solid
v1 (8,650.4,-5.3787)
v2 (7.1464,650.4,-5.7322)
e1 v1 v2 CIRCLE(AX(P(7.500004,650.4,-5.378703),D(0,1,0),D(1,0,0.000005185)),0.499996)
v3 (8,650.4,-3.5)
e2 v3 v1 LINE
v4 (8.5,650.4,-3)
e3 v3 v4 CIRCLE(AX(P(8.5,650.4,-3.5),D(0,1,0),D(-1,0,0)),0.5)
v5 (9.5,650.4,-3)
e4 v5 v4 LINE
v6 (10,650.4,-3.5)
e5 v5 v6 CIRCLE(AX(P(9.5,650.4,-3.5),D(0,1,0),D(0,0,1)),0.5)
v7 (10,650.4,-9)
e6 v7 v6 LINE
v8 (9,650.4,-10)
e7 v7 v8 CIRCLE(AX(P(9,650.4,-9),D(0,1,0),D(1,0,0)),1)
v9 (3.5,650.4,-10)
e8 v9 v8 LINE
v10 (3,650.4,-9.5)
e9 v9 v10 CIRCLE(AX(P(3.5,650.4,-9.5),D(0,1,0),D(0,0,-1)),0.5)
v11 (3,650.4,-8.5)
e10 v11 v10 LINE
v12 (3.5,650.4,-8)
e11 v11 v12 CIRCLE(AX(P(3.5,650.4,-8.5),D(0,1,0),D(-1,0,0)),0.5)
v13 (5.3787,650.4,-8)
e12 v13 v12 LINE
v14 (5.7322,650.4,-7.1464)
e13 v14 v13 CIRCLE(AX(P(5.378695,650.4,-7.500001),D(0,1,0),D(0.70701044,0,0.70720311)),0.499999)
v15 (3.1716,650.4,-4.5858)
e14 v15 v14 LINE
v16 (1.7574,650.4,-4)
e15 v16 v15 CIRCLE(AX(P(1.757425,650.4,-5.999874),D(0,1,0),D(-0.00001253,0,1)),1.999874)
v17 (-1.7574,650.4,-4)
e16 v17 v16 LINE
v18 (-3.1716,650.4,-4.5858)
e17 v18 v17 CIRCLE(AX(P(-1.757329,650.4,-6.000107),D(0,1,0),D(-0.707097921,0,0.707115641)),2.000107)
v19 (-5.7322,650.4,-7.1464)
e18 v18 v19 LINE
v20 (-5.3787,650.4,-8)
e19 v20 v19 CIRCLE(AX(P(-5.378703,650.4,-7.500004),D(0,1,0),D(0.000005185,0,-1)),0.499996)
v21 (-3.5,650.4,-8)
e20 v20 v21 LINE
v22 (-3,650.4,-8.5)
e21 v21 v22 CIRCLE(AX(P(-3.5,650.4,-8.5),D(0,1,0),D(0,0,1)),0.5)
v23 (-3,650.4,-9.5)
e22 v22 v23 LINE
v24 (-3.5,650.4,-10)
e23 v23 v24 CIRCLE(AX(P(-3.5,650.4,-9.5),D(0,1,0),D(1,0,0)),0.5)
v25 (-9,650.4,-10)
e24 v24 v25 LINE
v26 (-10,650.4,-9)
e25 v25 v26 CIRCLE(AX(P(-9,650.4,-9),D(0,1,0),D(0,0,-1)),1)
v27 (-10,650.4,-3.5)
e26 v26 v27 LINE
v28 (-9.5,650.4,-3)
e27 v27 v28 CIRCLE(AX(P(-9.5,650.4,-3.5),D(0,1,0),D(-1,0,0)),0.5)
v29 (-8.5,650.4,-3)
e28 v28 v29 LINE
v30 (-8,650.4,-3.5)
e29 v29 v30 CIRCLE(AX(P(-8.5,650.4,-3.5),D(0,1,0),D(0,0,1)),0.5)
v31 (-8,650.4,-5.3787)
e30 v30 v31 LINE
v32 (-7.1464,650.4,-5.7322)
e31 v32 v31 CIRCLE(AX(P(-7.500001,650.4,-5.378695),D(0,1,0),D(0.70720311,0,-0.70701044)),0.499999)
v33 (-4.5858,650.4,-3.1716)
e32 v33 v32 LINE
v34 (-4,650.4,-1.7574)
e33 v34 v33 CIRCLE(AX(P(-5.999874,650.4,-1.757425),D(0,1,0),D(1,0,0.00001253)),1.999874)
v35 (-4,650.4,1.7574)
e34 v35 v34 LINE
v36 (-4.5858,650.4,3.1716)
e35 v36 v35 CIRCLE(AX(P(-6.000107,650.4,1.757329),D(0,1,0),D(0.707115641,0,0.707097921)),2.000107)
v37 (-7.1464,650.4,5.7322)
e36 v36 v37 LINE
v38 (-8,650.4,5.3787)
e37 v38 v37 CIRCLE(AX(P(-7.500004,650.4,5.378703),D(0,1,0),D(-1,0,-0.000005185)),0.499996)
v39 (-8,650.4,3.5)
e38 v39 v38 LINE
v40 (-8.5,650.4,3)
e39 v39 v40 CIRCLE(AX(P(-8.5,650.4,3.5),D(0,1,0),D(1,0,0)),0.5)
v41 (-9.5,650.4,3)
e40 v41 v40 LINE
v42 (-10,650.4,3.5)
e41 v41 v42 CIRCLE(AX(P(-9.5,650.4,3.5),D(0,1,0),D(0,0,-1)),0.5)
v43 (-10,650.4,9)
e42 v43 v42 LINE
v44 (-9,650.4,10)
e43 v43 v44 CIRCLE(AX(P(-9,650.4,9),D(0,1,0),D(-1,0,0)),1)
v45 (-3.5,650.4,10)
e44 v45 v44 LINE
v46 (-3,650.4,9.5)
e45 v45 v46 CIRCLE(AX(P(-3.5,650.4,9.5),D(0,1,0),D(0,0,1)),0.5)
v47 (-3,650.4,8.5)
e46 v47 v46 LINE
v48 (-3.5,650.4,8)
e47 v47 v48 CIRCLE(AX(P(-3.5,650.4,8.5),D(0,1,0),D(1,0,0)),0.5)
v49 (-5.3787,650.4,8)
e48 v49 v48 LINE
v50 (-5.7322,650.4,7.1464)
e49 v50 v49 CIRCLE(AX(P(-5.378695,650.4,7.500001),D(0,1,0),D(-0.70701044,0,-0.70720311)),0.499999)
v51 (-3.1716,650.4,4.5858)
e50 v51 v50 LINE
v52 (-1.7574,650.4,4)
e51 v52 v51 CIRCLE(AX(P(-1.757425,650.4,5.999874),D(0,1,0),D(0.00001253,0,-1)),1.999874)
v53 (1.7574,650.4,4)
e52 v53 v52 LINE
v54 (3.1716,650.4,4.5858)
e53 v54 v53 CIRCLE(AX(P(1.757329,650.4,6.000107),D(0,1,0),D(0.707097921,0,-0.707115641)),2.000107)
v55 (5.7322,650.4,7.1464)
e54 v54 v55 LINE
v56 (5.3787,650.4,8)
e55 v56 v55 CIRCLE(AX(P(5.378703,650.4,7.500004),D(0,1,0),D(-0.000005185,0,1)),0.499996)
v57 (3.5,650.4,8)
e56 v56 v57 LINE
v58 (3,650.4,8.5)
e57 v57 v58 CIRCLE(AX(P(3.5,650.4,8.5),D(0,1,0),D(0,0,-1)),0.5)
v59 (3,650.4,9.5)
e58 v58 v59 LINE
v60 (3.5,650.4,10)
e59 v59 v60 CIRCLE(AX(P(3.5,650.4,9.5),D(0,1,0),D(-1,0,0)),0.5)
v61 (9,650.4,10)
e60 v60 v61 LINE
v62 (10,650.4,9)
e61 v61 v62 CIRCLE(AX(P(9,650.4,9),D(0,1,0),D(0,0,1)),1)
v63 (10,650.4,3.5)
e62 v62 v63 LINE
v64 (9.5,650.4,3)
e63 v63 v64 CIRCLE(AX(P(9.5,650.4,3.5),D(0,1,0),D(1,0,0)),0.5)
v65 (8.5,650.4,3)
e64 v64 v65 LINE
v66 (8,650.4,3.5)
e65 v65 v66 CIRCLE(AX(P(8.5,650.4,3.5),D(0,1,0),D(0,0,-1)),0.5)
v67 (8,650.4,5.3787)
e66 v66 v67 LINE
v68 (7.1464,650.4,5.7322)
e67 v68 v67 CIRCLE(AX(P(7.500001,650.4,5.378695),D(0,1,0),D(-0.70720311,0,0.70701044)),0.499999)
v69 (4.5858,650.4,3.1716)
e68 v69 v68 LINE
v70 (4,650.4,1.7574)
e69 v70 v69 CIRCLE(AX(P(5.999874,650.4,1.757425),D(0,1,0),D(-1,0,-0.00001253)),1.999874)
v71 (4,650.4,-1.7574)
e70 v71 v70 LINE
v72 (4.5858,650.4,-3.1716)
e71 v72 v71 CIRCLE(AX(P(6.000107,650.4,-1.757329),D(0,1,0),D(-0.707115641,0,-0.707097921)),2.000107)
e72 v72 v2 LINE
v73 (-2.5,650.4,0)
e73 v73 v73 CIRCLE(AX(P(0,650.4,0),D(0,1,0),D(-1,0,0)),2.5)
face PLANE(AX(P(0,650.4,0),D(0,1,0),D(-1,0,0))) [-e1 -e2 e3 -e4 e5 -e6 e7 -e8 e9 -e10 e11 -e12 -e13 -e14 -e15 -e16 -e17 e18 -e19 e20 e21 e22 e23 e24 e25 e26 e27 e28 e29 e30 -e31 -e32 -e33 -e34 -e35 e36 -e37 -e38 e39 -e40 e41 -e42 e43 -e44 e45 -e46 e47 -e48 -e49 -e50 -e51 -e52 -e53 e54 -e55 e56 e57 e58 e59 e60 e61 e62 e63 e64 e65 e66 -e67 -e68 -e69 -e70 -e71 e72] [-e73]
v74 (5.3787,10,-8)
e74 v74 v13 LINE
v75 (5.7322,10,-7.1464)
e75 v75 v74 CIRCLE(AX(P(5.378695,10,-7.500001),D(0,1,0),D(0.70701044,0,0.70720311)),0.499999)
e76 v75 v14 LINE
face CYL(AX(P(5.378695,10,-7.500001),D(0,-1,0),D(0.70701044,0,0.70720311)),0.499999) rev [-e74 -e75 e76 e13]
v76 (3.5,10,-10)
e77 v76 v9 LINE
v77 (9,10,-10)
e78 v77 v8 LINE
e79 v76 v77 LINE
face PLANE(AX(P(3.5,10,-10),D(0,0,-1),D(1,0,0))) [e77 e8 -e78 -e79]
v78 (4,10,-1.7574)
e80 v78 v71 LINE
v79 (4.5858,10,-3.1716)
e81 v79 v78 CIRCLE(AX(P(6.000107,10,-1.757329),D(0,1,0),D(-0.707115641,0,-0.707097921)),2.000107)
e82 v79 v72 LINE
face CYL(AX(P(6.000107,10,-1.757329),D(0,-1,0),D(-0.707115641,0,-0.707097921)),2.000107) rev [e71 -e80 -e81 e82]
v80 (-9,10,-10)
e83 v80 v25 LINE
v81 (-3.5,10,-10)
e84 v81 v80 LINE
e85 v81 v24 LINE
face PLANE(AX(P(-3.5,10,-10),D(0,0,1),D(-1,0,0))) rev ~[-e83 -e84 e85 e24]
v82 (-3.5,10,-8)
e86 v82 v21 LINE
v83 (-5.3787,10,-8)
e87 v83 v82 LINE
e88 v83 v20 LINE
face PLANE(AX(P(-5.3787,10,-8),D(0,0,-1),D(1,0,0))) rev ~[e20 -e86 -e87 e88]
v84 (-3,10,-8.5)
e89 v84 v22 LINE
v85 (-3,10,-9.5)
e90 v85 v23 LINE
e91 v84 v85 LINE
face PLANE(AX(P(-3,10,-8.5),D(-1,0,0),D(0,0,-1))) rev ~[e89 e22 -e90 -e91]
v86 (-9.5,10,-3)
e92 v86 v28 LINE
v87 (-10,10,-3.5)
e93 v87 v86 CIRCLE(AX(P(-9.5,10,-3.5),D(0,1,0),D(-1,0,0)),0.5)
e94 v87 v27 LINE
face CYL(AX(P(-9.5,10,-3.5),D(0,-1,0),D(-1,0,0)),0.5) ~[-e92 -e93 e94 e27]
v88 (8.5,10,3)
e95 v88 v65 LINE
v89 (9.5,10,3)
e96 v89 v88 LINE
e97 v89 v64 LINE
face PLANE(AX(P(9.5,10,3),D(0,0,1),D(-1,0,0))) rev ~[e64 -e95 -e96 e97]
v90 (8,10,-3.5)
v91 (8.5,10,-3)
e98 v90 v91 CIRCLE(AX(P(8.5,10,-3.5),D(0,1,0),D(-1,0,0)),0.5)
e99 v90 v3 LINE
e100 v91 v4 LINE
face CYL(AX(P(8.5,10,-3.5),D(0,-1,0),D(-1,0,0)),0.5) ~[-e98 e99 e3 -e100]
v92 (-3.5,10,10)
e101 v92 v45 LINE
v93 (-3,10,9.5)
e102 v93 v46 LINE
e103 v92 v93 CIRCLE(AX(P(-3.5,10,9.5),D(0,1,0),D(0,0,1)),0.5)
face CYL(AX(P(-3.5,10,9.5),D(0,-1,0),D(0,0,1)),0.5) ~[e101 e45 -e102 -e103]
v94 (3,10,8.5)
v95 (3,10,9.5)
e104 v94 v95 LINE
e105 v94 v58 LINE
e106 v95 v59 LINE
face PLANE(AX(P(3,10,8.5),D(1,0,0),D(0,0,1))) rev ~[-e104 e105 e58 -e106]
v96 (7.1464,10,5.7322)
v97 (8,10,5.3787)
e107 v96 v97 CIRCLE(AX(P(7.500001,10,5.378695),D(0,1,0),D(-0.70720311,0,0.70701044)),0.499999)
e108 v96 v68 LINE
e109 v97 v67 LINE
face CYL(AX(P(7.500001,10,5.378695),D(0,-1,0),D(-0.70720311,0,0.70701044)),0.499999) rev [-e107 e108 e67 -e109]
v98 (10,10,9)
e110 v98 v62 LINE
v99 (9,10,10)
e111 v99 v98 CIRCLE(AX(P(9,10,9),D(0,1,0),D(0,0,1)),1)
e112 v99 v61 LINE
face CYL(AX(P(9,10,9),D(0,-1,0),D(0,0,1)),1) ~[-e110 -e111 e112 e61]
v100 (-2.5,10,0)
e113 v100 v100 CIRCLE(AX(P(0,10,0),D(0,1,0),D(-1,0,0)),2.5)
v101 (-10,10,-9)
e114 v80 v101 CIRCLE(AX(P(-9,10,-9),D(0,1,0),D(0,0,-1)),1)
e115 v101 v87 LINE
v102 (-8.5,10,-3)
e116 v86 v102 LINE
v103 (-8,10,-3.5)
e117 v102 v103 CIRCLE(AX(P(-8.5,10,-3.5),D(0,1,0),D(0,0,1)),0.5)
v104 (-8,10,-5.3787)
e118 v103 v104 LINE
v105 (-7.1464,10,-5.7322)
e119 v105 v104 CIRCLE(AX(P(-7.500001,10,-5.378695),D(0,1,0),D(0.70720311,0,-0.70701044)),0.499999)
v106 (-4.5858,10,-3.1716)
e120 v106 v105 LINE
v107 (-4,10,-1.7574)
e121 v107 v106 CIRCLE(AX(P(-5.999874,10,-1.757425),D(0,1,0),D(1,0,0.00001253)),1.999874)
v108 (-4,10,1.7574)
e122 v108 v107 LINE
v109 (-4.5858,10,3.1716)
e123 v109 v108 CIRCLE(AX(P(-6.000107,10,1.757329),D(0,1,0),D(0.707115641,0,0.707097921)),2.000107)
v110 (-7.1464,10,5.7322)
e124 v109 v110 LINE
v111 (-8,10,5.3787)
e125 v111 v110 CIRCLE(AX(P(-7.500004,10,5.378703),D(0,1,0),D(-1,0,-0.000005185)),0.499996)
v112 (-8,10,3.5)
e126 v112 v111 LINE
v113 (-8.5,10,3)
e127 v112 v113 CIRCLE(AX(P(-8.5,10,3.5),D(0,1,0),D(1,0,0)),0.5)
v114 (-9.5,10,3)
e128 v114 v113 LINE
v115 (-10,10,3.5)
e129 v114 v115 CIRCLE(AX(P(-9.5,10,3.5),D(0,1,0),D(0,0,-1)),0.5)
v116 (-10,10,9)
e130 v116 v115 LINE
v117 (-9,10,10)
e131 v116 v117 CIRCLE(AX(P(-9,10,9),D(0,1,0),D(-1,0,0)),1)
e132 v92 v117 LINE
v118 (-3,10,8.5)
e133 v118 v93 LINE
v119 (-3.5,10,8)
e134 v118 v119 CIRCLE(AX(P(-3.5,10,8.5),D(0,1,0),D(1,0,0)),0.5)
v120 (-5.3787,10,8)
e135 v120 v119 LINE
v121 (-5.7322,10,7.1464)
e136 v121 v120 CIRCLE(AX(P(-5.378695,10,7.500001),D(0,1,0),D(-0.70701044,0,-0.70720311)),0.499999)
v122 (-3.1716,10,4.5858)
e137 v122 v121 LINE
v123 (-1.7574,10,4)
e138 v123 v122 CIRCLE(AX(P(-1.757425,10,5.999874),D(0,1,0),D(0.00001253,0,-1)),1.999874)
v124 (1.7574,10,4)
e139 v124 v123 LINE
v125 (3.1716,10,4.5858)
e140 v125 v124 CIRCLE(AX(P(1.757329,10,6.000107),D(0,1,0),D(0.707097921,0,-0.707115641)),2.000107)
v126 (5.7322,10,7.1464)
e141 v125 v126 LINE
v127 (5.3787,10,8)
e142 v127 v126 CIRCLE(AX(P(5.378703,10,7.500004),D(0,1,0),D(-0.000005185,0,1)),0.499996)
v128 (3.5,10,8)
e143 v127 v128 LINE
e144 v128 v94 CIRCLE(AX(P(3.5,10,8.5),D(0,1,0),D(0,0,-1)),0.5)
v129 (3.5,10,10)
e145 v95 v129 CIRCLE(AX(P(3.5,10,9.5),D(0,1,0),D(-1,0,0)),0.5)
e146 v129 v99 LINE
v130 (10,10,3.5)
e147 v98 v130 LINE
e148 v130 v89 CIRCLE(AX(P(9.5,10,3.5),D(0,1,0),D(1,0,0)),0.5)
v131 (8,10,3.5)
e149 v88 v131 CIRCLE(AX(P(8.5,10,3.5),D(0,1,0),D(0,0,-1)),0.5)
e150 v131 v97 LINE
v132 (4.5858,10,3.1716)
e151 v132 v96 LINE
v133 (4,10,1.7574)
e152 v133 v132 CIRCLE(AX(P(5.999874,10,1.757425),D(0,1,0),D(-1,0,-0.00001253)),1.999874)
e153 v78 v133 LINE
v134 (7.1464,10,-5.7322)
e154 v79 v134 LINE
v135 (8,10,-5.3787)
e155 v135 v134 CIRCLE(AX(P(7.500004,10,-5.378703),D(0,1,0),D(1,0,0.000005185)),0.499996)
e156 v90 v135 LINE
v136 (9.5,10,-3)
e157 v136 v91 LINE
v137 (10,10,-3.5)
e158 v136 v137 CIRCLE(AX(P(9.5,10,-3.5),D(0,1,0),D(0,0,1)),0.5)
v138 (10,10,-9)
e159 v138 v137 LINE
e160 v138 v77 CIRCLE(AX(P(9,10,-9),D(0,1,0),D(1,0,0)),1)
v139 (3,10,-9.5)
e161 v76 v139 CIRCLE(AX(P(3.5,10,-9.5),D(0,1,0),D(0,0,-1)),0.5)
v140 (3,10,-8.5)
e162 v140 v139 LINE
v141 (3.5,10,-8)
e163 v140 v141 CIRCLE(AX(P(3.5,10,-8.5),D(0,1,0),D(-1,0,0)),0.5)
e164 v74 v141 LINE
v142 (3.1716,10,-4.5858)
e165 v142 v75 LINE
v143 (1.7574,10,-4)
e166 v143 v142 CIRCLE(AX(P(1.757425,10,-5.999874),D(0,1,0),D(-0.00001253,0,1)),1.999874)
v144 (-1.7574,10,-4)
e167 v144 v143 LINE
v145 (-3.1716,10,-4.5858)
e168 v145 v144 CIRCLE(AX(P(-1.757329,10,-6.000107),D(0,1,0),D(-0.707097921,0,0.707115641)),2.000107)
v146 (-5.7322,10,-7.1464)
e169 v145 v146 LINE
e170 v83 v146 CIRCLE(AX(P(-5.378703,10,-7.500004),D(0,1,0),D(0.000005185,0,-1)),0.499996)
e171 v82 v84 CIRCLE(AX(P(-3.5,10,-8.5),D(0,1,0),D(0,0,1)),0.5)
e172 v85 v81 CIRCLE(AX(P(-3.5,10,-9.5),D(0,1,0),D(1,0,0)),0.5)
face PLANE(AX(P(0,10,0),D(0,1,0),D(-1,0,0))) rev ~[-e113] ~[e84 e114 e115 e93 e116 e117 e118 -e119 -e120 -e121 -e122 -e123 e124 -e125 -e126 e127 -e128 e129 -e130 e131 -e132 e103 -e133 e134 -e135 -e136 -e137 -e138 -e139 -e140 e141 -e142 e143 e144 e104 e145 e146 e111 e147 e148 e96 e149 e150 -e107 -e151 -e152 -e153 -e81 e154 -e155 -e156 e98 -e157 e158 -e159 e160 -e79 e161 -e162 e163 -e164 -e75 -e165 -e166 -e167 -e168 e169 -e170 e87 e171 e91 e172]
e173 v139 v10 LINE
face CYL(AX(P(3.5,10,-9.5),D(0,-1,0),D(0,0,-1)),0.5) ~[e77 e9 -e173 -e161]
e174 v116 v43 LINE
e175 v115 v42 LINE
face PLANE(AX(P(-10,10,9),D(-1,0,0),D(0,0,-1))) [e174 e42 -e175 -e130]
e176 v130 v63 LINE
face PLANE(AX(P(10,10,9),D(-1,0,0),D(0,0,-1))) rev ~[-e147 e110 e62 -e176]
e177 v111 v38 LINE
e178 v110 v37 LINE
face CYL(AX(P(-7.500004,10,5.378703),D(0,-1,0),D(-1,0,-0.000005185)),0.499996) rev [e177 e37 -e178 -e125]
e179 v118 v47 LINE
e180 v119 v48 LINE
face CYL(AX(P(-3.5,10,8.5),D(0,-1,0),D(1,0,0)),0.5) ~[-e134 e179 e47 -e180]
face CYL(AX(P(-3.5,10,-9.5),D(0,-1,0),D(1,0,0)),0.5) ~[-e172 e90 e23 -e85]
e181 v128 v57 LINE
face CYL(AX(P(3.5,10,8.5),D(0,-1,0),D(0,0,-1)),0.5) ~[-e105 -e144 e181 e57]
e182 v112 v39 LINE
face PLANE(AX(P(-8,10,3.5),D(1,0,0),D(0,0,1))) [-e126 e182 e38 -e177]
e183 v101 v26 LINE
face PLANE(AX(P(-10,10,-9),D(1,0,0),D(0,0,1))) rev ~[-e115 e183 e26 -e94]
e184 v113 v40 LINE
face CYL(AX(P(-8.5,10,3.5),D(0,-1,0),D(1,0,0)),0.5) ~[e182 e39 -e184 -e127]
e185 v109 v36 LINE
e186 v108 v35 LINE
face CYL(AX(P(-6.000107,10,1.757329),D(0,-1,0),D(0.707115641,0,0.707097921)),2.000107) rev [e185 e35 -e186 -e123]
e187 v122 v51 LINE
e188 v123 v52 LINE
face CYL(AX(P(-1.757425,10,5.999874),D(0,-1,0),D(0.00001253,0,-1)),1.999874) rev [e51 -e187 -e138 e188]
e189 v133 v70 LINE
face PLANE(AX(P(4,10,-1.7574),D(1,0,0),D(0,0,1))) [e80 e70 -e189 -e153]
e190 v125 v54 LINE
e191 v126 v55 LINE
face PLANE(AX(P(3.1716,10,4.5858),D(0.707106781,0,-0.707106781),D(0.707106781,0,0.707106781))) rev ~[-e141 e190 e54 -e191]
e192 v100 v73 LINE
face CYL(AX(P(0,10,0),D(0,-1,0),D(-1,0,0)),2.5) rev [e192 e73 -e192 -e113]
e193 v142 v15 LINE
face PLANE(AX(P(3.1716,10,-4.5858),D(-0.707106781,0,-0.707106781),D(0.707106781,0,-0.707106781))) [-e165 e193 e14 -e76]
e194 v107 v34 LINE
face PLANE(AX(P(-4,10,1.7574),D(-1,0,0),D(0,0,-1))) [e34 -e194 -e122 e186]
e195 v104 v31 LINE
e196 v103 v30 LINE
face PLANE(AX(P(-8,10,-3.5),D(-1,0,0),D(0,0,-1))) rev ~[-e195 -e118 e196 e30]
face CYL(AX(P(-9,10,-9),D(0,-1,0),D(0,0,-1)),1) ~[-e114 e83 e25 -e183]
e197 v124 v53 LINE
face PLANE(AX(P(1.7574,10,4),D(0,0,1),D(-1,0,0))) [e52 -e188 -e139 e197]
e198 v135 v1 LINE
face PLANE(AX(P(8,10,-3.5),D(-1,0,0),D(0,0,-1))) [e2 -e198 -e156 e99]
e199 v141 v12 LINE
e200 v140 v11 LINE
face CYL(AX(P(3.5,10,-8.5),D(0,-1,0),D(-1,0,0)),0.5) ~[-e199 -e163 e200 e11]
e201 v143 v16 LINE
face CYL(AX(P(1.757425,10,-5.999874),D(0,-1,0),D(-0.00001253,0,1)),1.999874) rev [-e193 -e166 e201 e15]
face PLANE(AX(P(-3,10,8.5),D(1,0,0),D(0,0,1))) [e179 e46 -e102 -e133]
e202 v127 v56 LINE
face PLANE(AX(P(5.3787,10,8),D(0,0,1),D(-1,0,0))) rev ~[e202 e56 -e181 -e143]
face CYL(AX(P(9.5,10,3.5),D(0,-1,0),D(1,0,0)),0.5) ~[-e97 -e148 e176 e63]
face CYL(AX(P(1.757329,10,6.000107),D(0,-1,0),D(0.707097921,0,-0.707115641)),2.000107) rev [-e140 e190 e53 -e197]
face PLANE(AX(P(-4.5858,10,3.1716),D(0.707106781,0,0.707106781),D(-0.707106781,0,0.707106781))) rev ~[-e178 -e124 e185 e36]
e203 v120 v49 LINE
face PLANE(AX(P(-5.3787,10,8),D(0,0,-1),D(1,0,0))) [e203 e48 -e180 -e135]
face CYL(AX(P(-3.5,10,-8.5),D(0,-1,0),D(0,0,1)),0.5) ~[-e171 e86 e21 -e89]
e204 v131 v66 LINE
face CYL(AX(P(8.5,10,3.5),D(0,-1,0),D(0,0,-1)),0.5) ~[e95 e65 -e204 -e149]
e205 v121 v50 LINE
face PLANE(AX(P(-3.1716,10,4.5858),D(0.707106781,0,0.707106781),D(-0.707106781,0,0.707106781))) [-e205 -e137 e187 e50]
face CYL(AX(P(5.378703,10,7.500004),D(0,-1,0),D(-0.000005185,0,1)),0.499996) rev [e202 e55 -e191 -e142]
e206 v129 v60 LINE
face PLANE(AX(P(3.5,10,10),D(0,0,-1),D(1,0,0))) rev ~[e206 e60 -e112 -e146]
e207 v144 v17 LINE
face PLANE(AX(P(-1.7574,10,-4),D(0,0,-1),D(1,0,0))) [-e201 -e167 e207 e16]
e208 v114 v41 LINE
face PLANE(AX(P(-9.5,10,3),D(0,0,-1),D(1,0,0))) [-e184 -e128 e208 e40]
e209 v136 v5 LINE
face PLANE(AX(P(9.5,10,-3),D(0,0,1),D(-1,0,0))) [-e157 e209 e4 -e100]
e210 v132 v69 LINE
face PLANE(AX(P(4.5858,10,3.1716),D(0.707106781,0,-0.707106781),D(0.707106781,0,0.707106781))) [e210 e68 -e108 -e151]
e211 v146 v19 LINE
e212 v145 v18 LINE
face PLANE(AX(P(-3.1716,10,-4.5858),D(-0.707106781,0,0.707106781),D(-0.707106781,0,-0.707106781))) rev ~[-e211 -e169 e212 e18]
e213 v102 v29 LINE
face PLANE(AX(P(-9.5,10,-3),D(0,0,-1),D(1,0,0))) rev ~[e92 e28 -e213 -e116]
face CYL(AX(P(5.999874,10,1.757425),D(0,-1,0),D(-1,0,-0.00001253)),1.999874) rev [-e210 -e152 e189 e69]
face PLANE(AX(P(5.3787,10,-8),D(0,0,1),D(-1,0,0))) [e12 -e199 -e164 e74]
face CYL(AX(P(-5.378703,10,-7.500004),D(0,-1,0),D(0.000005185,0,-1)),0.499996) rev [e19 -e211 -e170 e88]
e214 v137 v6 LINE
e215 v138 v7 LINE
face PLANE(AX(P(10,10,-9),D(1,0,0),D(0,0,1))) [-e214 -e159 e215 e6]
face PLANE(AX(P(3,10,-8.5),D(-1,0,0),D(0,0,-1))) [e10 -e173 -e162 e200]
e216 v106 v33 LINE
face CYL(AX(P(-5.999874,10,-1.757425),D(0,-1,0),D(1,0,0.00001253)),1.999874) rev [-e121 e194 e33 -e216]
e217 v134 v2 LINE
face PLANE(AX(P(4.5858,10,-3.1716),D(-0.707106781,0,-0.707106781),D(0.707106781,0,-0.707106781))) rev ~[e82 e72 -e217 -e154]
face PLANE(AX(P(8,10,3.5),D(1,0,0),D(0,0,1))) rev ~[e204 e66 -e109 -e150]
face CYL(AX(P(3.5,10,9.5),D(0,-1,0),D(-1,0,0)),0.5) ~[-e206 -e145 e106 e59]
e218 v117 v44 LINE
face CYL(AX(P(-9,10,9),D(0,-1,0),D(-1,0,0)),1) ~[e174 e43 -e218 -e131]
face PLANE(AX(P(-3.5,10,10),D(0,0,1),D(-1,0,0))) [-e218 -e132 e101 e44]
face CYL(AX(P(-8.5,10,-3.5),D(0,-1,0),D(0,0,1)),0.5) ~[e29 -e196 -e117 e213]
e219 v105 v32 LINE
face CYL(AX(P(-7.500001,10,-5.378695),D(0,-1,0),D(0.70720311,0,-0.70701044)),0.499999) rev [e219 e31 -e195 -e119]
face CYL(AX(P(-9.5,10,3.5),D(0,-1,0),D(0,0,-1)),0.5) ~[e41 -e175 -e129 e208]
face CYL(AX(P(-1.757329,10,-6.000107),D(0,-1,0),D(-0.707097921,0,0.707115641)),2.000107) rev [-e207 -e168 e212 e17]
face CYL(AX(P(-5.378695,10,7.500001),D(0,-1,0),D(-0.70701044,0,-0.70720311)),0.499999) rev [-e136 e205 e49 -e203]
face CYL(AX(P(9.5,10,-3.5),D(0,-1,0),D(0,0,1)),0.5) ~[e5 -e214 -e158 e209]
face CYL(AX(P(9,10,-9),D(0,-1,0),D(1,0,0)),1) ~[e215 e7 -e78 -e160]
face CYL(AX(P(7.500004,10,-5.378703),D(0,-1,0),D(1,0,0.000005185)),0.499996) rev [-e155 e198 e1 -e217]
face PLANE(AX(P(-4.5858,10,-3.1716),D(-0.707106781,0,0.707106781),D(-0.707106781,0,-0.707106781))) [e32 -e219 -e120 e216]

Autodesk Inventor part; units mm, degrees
ref_plane "Start Plane" through (0, 10, 0) normal (0, 1, 0) x (-1, 0, 0)
ref_plane "End Plane" through (0, 650.4, 0) normal (0, 1, 0) x (-1, 0, 0)
sketch "Sketch" plane through (0, 0, 0) normal (0, 1, 0) x (-1, 0, 0)
  line L0 (-1.7574, 4) -> (1.7574, 4)
  line L1 (4, 1.7574) -> (4, -1.7574)
  line L2 (1.7574, -4) -> (-1.7574, -4)
  line L3 (-4, -1.7574) -> (-4, 1.7574)
  line L4 (4.5858, -3.1716) -> (7.1464, -5.7322)
  line L5 (3.1716, -4.5858) -> (5.7322, -7.1464)
  line L6 (5.3787, -8) -> (3.5, -8)
  line L7 (3, -8.5) -> (3, -9.5)
  line L8 (3.5, -10) -> (9, -10)
  line L9 (10, -9) -> (10, -3.5)
  line L10 (9.5, -3) -> (8.5, -3)
  line L11 (8, -3.5) -> (8, -5.3787)
  line L12 (4, 0) -> (-4, 0) construction
  line L13 (0, -4) -> (0, 4) construction
  arc A0 (4, -1.7574) -> (4.5858, -3.1716) centre (6, -1.7574) ccw
  arc A1 (3.1716, -4.5858) -> (1.7574, -4) centre (1.7574, -6) ccw
  arc A2 (3.5, -8) -> (3, -8.5) centre (3.5, -8.5) ccw
  arc A3 (3, -9.5) -> (3.5, -10) centre (3.5, -9.5) ccw
  arc A4 (10, -3.5) -> (9.5, -3) centre (9.5, -3.5) ccw
  arc A5 (8.5, -3) -> (8, -3.5) centre (8.5, -3.5) ccw
  arc A6 (7.1464, -5.7322) -> (8, -5.3787) centre (7.5, -5.3787) ccw
  arc A7 (5.3787, -8) -> (5.7322, -7.1464) centre (5.3787, -7.5) ccw
  arc A8 (9, -10) -> (10, -9) centre (9, -9) ccw
  line L14 (-4.5858, -3.1716) -> (-7.1464, -5.7322)
  line L15 (-3.1716, -4.5858) -> (-5.7322, -7.1464)
  line L16 (-5.3787, -8) -> (-3.5, -8)
  line L17 (-3, -8.5) -> (-3, -9.5)
  line L18 (-3.5, -10) -> (-9, -10)
  line L19 (-10, -9) -> (-10, -3.5)
  line L20 (-9.5, -3) -> (-8.5, -3)
  line L21 (-8, -3.5) -> (-8, -5.3787)
  arc A9 (-4.5858, -3.1716) -> (-4, -1.7574) centre (-6, -1.7574) ccw
  arc A10 (-1.7574, -4) -> (-3.1716, -4.5858) centre (-1.7574, -6) ccw
  arc A11 (-3, -8.5) -> (-3.5, -8) centre (-3.5, -8.5) ccw
  arc A12 (-3.5, -10) -> (-3, -9.5) centre (-3.5, -9.5) ccw
  arc A13 (-9.5, -3) -> (-10, -3.5) centre (-9.5, -3.5) ccw
  arc A14 (-8, -3.5) -> (-8.5, -3) centre (-8.5, -3.5) ccw
  arc A15 (-8, -5.3787) -> (-7.1464, -5.7322) centre (-7.5, -5.3787) ccw
  arc A16 (-5.7322, -7.1464) -> (-5.3787, -8) centre (-5.3787, -7.5) ccw
  arc A17 (-10, -9) -> (-9, -10) centre (-9, -9) ccw
  line L22 (4.5858, 3.1716) -> (7.1464, 5.7322)
  line L23 (3.1716, 4.5858) -> (5.7322, 7.1464)
  line L24 (5.3787, 8) -> (3.5, 8)
  line L25 (3, 8.5) -> (3, 9.5)
  line L26 (3.5, 10) -> (9, 10)
  line L27 (10, 9) -> (10, 3.5)
  line L28 (9.5, 3) -> (8.5, 3)
  line L29 (8, 3.5) -> (8, 5.3787)
  arc A18 (4.5858, 3.1716) -> (4, 1.7574) centre (6, 1.7574) ccw
  arc A19 (1.7574, 4) -> (3.1716, 4.5858) centre (1.7574, 6) ccw
  arc A20 (3, 8.5) -> (3.5, 8) centre (3.5, 8.5) ccw
  arc A21 (3.5, 10) -> (3, 9.5) centre (3.5, 9.5) ccw
  arc A22 (9.5, 3) -> (10, 3.5) centre (9.5, 3.5) ccw
  arc A23 (8, 3.5) -> (8.5, 3) centre (8.5, 3.5) ccw
  arc A24 (8, 5.3787) -> (7.1464, 5.7322) centre (7.5, 5.3787) ccw
  arc A25 (5.7322, 7.1464) -> (5.3787, 8) centre (5.3787, 7.5) ccw
  arc A26 (10, 9) -> (9, 10) centre (9, 9) ccw
  line L30 (-10, 9) -> (-10, 3.5)
  arc A27 (-9, 10) -> (-10, 9) centre (-9, 9) ccw
  arc A28 (-10, 3.5) -> (-9.5, 3) centre (-9.5, 3.5) ccw
  line L31 (-9.5, 3) -> (-8.5, 3)
  arc A29 (-8.5, 3) -> (-8, 3.5) centre (-8.5, 3.5) ccw
  line L32 (-8, 3.5) -> (-8, 5.3787)
  arc A30 (-7.1464, 5.7322) -> (-8, 5.3787) centre (-7.5, 5.3787) ccw
  line L33 (-4.5858, 3.1716) -> (-7.1464, 5.7322)
  line L34 (-3.1716, 4.5858) -> (-5.7322, 7.1464)
  arc A31 (-3.1716, 4.5858) -> (-1.7574, 4) centre (-1.7574, 6) ccw
  arc A32 (-4, 1.7574) -> (-4.5858, 3.1716) centre (-6, 1.7574) ccw
  arc A33 (-5.3787, 8) -> (-5.7322, 7.1464) centre (-5.3787, 7.5) ccw
  line L35 (-5.3787, 8) -> (-3.5, 8)
  arc A34 (-3.5, 8) -> (-3, 8.5) centre (-3.5, 8.5) ccw
  line L36 (-3, 8.5) -> (-3, 9.5)
  arc A35 (-3, 9.5) -> (-3.5, 10) centre (-3.5, 9.5) ccw
  line L37 (-3.5, 10) -> (-9, 10)
  circle A36 centre (0, 0) radius 2.5
  point P0 (3, -8)
  point P1 (3, -10)
  point P2 (10, -10)
  dimension "d3" = 2
  dimension "d4" = 2
  dimension "d5" = 7
  dimension "d6" = 2
  dimension "d7" = 0.5
  dimension "d8" = 1
  dimension "d9" = 20
  dimension "d10" = 20
  dimension "d11" = 8
  dimension "d13" = 5
  dimension "d14" = 8
extrude "Body" add sketch "Sketch" along normal up to surface (640.4 mm away) from surface at 10
sketch "Sketch4" plane through (0, 0, 0) normal (0, 1, 0) x (-1, 0, 0)
  line L0 (0, 0) -> (10, 0)
ref_plane "Work Plane4" through (0, 0, 0) normal (0, 0, -1) x (-1, 0, 0)
sketch "Sketch5" plane through (0, 0, 0) normal (0, 0, -1) x (-1, 0, 0)
  line L0 (-2, 10) -> (12, 10)
  line L1 (-2, 650.4) -> (12, 650.4)
  dimension "d22" = 640.4
ref_plane "Work Plane5" through (9, 650.4, 0) normal (0, 1, 0) x (1, 0, 0)
split "Split1" plane through (9, 650.4, 0) removes the side toward (0, 1, 0)
ref_plane "Work Plane6" through (9, 10, -279.4) normal (0, -1, 0) x (1, 0, 0)
split "Split2" plane through (9, 10, -279.4) removes the side toward (0, -1, 0)
equation "\"d18\" = Length + G_OFFSET_END"
equation "\"G_L\" = d22"
equation "\"Length\" = 660.4"
equation "\"G_OFFSET_END\" = -10"
properties part number "A3.3"
